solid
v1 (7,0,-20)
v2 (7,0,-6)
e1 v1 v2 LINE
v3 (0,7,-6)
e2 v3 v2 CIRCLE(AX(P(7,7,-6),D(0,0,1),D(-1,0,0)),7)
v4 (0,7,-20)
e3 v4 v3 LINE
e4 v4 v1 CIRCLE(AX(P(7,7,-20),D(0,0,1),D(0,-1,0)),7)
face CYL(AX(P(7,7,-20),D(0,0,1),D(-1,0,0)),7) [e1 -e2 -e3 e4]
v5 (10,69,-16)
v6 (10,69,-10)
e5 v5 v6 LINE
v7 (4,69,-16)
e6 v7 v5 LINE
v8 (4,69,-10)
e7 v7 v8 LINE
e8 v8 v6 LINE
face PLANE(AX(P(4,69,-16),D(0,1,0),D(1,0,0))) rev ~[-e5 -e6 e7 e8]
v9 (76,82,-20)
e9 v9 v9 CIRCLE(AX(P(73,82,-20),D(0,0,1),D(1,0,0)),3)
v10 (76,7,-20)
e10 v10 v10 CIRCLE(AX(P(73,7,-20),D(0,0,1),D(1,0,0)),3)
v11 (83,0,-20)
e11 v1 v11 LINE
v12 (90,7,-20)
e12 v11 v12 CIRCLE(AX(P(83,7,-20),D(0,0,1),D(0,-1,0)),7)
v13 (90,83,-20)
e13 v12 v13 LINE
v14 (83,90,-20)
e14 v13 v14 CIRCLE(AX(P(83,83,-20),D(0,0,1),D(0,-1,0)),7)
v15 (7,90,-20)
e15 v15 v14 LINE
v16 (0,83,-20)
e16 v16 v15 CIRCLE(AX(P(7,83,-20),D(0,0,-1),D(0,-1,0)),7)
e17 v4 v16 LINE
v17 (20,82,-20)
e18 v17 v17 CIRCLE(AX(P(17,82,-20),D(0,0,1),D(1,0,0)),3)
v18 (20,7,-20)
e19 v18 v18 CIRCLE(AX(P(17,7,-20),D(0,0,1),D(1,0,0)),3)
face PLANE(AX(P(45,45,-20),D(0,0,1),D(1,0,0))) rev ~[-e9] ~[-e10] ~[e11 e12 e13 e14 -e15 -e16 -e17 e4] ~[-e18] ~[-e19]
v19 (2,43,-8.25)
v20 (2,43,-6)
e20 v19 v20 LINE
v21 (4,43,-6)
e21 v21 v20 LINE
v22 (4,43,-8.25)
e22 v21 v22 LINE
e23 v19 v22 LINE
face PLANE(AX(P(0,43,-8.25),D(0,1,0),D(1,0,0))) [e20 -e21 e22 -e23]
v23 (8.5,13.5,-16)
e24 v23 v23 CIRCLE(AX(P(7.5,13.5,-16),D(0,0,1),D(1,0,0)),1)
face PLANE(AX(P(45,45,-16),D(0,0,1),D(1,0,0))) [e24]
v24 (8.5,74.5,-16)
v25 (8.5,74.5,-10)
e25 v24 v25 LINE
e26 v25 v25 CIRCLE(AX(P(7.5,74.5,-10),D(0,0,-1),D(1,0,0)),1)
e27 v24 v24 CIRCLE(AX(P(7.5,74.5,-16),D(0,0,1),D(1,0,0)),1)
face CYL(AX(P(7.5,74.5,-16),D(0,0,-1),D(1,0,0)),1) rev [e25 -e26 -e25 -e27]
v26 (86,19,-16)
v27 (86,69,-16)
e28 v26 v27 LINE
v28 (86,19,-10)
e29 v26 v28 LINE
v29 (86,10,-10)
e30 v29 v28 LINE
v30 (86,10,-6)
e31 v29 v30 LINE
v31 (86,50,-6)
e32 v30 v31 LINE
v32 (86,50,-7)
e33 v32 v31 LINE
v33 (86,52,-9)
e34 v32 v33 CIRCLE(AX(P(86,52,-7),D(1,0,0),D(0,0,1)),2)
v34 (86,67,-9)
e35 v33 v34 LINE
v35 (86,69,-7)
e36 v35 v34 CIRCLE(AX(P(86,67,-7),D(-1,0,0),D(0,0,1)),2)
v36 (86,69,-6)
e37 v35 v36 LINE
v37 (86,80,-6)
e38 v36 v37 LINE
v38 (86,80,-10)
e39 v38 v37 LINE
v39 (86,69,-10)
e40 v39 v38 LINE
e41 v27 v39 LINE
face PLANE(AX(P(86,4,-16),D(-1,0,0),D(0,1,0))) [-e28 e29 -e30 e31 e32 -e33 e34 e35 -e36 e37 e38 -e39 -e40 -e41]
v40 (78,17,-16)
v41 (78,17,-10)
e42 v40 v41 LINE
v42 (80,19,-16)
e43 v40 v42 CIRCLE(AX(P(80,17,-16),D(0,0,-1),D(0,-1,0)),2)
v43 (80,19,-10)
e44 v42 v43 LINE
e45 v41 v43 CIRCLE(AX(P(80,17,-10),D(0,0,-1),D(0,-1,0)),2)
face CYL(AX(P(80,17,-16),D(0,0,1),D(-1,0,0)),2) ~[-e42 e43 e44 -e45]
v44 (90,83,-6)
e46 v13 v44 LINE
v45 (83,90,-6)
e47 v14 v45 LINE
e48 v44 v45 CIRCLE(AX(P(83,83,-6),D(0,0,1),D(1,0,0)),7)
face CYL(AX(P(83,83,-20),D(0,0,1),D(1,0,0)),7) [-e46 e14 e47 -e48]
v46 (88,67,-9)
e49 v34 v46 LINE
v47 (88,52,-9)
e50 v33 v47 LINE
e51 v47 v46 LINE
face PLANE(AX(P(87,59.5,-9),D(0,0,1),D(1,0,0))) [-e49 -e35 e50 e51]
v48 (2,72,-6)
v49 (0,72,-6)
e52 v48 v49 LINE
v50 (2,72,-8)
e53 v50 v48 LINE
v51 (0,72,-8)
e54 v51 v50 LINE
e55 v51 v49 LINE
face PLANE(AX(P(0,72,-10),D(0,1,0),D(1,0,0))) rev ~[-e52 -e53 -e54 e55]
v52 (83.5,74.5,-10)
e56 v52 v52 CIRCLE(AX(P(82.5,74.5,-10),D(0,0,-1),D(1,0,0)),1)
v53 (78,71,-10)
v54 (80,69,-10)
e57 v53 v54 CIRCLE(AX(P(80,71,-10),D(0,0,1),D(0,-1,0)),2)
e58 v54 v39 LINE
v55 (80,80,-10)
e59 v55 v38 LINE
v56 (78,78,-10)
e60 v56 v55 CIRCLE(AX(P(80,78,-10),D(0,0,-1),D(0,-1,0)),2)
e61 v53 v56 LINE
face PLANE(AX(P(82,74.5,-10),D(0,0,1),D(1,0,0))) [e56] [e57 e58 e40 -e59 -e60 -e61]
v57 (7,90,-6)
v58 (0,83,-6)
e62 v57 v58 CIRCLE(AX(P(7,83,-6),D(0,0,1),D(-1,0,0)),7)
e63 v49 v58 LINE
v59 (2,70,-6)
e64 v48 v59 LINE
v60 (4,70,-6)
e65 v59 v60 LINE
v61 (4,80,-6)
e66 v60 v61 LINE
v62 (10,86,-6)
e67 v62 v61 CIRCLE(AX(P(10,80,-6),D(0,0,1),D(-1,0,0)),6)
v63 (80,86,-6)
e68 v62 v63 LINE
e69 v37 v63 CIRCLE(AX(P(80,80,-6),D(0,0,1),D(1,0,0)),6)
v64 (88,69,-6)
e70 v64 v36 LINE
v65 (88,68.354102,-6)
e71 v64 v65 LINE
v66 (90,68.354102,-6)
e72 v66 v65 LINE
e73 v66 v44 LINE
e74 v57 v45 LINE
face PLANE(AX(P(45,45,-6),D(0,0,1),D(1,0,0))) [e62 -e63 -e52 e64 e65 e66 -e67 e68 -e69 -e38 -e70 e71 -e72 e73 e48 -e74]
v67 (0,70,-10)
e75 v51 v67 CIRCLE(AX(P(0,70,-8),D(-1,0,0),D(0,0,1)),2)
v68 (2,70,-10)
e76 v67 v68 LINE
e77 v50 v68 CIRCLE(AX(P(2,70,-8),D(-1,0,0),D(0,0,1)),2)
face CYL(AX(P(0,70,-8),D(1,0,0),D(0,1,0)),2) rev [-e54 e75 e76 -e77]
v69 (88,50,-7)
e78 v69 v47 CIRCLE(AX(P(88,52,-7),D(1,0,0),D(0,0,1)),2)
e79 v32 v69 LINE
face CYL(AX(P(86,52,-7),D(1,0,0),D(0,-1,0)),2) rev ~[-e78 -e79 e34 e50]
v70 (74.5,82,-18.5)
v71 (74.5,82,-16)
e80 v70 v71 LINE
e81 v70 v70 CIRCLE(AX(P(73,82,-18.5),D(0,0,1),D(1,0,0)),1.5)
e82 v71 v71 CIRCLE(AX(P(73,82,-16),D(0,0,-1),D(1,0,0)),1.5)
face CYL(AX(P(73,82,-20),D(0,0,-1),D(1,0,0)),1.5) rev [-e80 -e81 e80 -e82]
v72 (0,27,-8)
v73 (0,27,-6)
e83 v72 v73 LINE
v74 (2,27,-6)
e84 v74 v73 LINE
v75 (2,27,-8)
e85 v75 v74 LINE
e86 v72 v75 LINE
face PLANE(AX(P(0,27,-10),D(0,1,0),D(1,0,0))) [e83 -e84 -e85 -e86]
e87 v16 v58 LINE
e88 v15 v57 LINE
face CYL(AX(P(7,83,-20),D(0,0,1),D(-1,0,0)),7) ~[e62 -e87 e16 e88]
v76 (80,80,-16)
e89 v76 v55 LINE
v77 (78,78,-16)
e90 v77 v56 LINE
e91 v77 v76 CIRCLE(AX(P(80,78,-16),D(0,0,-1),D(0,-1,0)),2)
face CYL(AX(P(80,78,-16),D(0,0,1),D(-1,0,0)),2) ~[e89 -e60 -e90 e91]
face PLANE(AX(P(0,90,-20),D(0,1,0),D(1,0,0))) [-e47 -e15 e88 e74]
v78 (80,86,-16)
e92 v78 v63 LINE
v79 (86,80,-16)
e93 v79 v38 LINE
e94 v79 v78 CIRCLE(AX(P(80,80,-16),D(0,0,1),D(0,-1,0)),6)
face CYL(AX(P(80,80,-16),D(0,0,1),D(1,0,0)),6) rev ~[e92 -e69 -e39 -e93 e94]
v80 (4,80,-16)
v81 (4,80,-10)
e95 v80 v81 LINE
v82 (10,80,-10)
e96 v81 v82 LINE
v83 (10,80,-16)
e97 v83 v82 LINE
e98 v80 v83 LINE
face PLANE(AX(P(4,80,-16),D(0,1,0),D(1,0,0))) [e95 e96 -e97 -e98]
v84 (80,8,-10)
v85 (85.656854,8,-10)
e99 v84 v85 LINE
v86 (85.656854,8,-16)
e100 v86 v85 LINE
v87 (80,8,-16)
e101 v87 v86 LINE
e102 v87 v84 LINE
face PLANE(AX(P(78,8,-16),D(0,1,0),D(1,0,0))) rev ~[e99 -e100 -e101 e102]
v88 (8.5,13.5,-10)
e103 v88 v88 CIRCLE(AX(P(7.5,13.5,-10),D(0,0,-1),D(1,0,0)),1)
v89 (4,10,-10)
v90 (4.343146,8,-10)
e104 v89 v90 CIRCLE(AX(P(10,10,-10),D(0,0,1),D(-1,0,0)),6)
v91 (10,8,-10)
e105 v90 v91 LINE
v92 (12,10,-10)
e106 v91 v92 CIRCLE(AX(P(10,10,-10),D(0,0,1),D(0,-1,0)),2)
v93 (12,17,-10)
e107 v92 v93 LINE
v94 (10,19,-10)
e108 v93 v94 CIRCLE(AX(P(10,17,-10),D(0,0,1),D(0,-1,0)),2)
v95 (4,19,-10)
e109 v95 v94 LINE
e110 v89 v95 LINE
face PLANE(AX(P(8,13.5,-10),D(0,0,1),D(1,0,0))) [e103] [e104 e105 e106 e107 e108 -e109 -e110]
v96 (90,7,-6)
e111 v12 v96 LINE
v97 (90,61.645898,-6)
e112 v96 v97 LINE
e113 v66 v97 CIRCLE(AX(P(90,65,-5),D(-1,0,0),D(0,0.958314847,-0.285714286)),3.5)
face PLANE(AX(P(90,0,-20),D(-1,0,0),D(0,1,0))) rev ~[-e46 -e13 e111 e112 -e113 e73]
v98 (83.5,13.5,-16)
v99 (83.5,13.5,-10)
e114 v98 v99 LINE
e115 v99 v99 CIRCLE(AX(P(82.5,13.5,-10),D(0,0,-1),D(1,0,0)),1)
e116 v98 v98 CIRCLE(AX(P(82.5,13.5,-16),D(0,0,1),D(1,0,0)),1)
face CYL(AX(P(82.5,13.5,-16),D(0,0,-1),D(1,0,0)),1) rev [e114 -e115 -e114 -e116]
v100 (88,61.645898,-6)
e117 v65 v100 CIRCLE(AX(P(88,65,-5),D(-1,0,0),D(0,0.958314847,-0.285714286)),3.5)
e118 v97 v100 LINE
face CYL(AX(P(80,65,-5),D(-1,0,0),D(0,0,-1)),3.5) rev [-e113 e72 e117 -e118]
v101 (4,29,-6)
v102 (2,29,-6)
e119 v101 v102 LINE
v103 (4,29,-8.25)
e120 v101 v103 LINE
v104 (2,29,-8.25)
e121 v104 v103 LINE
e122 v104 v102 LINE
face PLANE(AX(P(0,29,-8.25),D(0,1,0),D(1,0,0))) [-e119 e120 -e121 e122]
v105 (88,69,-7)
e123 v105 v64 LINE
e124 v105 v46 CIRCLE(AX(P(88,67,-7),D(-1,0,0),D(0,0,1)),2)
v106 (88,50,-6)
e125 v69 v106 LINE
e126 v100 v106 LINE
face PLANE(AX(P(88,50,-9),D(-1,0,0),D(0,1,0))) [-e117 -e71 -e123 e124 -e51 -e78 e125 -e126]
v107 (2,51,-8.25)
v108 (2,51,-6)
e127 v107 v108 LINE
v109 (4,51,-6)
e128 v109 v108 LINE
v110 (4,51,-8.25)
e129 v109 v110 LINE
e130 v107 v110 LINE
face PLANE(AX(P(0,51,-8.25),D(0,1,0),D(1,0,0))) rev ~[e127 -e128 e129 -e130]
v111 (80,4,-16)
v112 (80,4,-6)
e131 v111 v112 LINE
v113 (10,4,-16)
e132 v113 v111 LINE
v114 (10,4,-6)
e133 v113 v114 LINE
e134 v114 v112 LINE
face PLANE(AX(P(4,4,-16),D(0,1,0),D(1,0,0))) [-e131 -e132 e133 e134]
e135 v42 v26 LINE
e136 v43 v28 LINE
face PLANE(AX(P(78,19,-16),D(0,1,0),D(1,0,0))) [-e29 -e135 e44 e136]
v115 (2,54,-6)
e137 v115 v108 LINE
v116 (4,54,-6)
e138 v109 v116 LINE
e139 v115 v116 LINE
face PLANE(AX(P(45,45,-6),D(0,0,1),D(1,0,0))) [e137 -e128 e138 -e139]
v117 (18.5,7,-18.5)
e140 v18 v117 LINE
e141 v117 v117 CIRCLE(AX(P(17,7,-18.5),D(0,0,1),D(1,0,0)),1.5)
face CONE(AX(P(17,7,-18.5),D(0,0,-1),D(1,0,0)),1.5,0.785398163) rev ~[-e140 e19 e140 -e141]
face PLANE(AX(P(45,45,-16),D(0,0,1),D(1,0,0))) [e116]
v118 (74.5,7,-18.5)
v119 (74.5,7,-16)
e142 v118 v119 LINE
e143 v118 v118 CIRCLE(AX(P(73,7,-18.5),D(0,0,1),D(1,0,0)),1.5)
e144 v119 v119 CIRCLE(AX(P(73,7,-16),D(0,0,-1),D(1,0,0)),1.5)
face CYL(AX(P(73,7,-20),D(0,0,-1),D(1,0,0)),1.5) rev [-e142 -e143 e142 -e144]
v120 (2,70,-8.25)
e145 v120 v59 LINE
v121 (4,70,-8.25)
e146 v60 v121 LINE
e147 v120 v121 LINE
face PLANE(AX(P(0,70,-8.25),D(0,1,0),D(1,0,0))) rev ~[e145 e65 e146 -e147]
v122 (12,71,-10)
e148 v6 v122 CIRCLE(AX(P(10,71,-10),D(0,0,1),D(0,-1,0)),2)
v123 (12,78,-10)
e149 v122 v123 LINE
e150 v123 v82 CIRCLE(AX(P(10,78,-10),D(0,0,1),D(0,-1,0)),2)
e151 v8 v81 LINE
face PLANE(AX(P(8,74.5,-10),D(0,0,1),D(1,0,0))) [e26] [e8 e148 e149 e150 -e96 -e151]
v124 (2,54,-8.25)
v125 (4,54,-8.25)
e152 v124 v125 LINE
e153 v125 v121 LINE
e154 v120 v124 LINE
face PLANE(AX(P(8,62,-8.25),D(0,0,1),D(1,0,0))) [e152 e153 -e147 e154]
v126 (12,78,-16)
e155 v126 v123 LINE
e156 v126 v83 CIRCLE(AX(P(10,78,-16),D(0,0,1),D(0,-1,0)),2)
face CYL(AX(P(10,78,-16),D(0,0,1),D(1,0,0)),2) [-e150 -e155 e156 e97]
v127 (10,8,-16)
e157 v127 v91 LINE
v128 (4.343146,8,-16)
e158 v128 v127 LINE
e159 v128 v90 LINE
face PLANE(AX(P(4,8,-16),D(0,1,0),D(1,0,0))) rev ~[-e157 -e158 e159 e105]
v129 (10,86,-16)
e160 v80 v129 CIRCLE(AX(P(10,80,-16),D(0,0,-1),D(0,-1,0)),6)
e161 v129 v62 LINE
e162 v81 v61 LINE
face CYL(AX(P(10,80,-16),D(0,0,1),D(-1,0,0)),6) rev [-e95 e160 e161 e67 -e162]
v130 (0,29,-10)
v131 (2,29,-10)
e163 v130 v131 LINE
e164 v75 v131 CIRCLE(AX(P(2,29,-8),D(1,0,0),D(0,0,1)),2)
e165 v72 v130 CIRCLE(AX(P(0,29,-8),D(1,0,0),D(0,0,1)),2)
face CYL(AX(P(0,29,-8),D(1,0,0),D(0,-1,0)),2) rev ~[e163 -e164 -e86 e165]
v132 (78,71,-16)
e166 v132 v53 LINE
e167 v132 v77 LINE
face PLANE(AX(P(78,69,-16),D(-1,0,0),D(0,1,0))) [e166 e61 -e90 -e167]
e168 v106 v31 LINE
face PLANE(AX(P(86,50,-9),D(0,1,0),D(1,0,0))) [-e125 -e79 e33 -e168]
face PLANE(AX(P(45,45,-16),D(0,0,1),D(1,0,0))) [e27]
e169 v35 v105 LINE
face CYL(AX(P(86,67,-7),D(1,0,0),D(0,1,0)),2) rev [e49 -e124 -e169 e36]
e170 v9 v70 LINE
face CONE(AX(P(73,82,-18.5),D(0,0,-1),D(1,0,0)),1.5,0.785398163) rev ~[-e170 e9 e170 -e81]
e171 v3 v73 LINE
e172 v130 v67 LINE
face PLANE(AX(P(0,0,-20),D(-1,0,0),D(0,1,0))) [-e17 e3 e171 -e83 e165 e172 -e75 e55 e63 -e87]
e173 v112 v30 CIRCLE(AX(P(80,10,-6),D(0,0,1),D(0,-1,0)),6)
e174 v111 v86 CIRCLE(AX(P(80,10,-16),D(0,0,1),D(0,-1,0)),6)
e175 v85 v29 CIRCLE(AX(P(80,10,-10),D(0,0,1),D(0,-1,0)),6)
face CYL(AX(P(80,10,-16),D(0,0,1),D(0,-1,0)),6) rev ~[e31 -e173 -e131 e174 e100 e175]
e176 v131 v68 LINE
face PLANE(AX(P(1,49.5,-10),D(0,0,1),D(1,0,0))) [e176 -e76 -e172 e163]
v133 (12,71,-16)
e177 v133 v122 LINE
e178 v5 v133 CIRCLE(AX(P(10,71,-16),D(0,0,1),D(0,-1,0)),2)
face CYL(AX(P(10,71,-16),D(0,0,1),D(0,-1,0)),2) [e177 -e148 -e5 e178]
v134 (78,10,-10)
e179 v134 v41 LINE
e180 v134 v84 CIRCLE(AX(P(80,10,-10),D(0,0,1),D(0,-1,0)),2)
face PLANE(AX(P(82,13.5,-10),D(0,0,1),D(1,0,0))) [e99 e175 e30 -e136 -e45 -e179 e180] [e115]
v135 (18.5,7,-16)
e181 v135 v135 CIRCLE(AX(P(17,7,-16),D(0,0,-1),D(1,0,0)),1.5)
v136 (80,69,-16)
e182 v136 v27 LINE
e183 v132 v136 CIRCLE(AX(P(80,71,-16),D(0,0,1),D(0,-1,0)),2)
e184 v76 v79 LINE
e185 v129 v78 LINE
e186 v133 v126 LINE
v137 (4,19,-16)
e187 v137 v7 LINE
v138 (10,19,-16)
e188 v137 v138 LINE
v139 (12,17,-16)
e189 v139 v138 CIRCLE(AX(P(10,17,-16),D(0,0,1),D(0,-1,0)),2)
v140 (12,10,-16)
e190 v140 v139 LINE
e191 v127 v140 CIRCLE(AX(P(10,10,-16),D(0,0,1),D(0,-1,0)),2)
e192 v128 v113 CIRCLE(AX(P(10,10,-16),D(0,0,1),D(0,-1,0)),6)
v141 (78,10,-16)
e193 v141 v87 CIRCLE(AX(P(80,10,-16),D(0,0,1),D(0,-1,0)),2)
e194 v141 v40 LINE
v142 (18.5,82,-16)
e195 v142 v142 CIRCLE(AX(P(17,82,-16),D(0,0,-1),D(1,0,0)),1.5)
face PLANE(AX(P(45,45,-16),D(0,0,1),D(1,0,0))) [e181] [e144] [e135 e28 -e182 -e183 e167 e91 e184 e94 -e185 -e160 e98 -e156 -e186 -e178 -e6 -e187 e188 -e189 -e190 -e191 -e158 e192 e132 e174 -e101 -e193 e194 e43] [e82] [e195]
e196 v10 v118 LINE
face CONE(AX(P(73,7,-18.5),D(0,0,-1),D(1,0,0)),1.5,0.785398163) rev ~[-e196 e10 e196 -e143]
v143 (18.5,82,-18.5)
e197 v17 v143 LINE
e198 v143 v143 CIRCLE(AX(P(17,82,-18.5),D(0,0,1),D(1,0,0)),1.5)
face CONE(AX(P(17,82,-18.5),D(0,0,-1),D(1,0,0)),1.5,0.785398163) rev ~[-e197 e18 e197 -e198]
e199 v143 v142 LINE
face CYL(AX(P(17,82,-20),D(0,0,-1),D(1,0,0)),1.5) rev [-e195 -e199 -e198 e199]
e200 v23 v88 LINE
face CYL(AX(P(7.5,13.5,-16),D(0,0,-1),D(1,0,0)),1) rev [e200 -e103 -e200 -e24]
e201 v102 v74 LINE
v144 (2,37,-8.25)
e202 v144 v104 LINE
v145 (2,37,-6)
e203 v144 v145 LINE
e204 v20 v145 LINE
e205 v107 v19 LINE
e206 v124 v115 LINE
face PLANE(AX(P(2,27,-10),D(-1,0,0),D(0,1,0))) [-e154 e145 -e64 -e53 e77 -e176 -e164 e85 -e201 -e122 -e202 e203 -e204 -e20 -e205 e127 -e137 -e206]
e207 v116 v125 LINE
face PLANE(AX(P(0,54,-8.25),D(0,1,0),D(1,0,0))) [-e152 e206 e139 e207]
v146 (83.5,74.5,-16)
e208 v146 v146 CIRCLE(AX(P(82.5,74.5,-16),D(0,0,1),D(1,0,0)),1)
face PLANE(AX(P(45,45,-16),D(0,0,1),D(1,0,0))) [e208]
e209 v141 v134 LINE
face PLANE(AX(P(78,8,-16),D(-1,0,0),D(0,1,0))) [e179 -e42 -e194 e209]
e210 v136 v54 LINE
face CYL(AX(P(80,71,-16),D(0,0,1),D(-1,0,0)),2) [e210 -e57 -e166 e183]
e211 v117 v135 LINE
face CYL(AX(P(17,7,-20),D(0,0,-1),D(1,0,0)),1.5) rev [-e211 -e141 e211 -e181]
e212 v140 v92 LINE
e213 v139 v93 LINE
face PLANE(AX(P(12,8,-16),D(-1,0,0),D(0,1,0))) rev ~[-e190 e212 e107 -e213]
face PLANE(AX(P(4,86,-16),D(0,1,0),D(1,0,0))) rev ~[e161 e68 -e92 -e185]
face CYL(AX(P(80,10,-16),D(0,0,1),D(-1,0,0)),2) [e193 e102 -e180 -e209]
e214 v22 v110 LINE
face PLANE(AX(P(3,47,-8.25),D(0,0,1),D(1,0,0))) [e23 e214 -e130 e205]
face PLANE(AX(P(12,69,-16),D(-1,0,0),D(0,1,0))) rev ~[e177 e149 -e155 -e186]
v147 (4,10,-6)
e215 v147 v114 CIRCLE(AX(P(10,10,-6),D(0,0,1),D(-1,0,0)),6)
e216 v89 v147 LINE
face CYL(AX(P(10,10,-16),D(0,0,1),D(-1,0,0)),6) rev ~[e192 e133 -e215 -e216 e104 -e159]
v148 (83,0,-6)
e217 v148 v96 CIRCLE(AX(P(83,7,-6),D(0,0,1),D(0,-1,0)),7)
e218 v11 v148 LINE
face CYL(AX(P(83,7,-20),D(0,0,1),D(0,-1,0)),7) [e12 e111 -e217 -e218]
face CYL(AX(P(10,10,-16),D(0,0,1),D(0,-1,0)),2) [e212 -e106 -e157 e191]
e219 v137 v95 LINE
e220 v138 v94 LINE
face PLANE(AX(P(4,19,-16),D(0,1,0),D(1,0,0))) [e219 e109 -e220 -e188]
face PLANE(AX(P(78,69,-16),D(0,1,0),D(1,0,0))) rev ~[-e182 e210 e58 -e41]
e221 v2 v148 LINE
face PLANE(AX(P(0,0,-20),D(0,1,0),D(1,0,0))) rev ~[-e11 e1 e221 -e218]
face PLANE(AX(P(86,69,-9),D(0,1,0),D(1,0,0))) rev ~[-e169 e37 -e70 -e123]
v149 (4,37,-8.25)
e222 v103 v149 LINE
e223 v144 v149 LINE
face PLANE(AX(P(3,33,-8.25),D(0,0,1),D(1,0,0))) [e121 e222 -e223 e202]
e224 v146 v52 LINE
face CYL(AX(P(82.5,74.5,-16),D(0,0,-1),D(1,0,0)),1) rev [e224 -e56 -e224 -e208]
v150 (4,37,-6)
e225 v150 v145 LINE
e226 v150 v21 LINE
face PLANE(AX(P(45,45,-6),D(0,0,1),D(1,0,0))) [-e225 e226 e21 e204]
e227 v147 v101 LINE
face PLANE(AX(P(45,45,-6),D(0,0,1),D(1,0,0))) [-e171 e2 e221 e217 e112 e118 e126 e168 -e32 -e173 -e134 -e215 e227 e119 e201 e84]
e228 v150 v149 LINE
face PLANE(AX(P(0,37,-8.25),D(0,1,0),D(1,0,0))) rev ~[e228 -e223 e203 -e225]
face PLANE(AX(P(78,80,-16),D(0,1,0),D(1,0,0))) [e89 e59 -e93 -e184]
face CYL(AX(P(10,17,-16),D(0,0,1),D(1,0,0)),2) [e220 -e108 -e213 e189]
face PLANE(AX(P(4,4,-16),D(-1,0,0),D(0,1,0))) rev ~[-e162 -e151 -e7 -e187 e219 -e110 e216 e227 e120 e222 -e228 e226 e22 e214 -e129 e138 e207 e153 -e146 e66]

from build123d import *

# Parameters (mm, degrees)
CYLINDER005_R     = 1
CYLINDER005_DEPTH = 8
BOX014_W          = 8
BOX014_H          = 11
BOX014_DEPTH      = 6
FILLET006_R       = 2
CYLINDER006_R     = 1
CYLINDER006_DEPTH = 9
BOX013_W          = 8
BOX013_H          = 11
BOX013_DEPTH      = 6
FILLET005_R       = 2
CYLINDER004_R     = 1
CYLINDER004_DEPTH = 8
BOX011_W          = 8
BOX011_H          = 11
BOX011_DEPTH      = 6
FILLET004_R       = 2
CYLINDER003_R     = 1
CYLINDER003_DEPTH = 8
BOX009_W          = 8
BOX009_H          = 11
BOX009_DEPTH      = 6
FILLET003_R       = 2
BOX024_W          = 2
BOX024_H          = 45
BOX024_DEPTH      = 8
FILLET007_R       = 2
BOX023_W          = 6
BOX023_H          = 8
BOX023_DEPTH      = 3
CYLINDER008_R     = 1.5
CYLINDER008_DEPTH = 10
CYLINDER009_R     = 1.5
CYLINDER009_DEPTH = 10
CYLINDER010_R     = 1.5
CYLINDER010_DEPTH = 10
CYLINDER007_R     = 1.5
CYLINDER007_DEPTH = 10
BOX018_W          = 6
BOX018_H          = 8
BOX018_DEPTH      = 3
BOX015_W          = 16
BOX015_H          = 16
BOX015_DEPTH      = 2.25
CYLINDER002_R     = 3.5
CYLINDER002_DEPTH = 10.5
BOX010_W          = 2
BOX010_H          = 19
BOX010_DEPTH      = 8
FILLET002_R       = 2
BOX008_W          = 90
BOX008_H          = 90
BOX008_DEPTH      = 14
BOX006_W          = 82
BOX006_H          = 82
BOX006_DEPTH      = 82
FILLET001_R       = 6
BOX005_W          = 90
BOX005_H          = 90
BOX005_DEPTH      = 90
FILLET_R          = 7
CHAMFER_SIZE      = 1.5


with BuildPart() as cylinder002:
    # Cylinder005 → Cylinder005 (new body)
    with BuildSketch(Plane(origin=(82.5, 74.5, 4), x_dir=(1, 0, 0), z_dir=(0, 0, 1))):
        Circle(CYLINDER005_R)
    extrude(amount=CYLINDER005_DEPTH)


with BuildPart() as cut003:
    # Box014 → Box014 (new body)
    with BuildSketch(Plane(origin=(78, 8, 4), x_dir=(1, 0, 0), z_dir=(0, 0, 1))):
        with Locations((4, 5.5)):
            Rectangle(BOX014_W, BOX014_H)
    extrude(amount=BOX014_DEPTH)

    # Fillet006
    fillet006_edges = [cut003.edges().sort_by_distance(p)[0] for p in [
        (78, 8, 7),
        (78, 19, 7),
    ]]
    fillet(fillet006_edges, radius=FILLET006_R)


with BuildPart() as cut003_1:
    # Fillet006 placement: moved
    add(cut003.part.moved(Location((0, 61, 0))))

    # Cut003: cut Cylinder002
    add(cylinder002.part, mode=Mode.SUBTRACT)


with BuildPart() as cylinder003:
    # Cylinder006 → Cylinder006 (new body)
    with BuildSketch(Plane(origin=(82.5, 13.5, 4), x_dir=(1, 0, 0), z_dir=(0, 0, 1))):
        Circle(CYLINDER006_R)
    extrude(amount=CYLINDER006_DEPTH)


with BuildPart() as cut004:
    # Box013 → Box013 (new body)
    with BuildSketch(Plane(origin=(78, 8, 4), x_dir=(1, 0, 0), z_dir=(0, 0, 1))):
        with Locations((4, 5.5)):
            Rectangle(BOX013_W, BOX013_H)
    extrude(amount=BOX013_DEPTH)

    # Fillet005
    fillet005_edges = [cut004.edges().sort_by_distance(p)[0] for p in [
        (78, 8, 7),
        (78, 19, 7),
    ]]
    fillet(fillet005_edges, radius=FILLET005_R)

    # Cut004: cut Cylinder003
    add(cylinder003.part, mode=Mode.SUBTRACT)


with BuildPart() as cylinder001:
    # Cylinder004 → Cylinder004 (new body)
    with BuildSketch(Plane(origin=(7.5, 74.5, 4), x_dir=(1, 0, 0), z_dir=(0, 0, 1))):
        Circle(CYLINDER004_R)
    extrude(amount=CYLINDER004_DEPTH)


with BuildPart() as cut005:
    # Box011 → Box011 (new body)
    with BuildSketch(Plane(origin=(4, 8, 3), x_dir=(1, 0, 0), z_dir=(0, 0, 1))):
        with Locations((4, 5.5)):
            Rectangle(BOX011_W, BOX011_H)
    extrude(amount=BOX011_DEPTH)

    # Fillet004
    fillet004_edges = [cut005.edges().sort_by_distance(p)[0] for p in [
        (12, 8, 6),
        (12, 19, 6),
    ]]
    fillet(fillet004_edges, radius=FILLET004_R)


with BuildPart() as cut005_1:
    # Fillet004 placement: moved
    add(cut005.part.moved(Location((0, 61, 1))))

    # Cut005: cut Cylinder001
    add(cylinder001.part, mode=Mode.SUBTRACT)


with BuildPart() as cylinder:
    # Cylinder003 → Cylinder003 (new body)
    with BuildSketch(Plane(origin=(7.5, 13.5, 4), x_dir=(1, 0, 0), z_dir=(0, 0, 1))):
        Circle(CYLINDER003_R)
    extrude(amount=CYLINDER003_DEPTH)


with BuildPart() as cut006:
    # Box009 → Box009 (new body)
    with BuildSketch(Plane(origin=(4, 8, 3), x_dir=(1, 0, 0), z_dir=(0, 0, 1))):
        with Locations((4, 5.5)):
            Rectangle(BOX009_W, BOX009_H)
    extrude(amount=BOX009_DEPTH)

    # Fillet003
    fillet003_edges = [cut006.edges().sort_by_distance(p)[0] for p in [
        (12, 8, 6),
        (12, 19, 6),
    ]]
    fillet(fillet003_edges, radius=FILLET003_R)


with BuildPart() as cut006_1:
    # Fillet003 placement: moved
    add(cut006.part.moved(Location((0, 0, 1))))

    # Cut006: cut Cylinder
    add(cylinder.part, mode=Mode.SUBTRACT)


with BuildPart() as fillet007:
    # Box024 → Box024 (new body)
    with BuildSketch(Plane(origin=(0, 27, 10), x_dir=(1, 0, 0), z_dir=(0, 0, 1))):
        with Locations((1, 22.5)):
            Rectangle(BOX024_W, BOX024_H)
    extrude(amount=BOX024_DEPTH)

    # Fillet007
    fillet007_edges = [fillet007.edges().sort_by_distance(p)[0] for p in [
        (1, 27, 10),
        (1, 27, 18),
        (1, 72, 10),
        (1, 72, 18),
    ]]
    fillet(fillet007_edges, radius=FILLET007_R)


with BuildPart() as uart001:
    # Box023 → Box023 (new body)
    with BuildSketch(Plane(origin=(0, 43, 11.75), x_dir=(1, 0, 0), z_dir=(0, 0, 1))):
        with Locations((3, 4)):
            Rectangle(BOX023_W, BOX023_H)
    extrude(amount=BOX023_DEPTH)


with BuildPart() as cylinder005:
    # Cylinder008 → Cylinder008 (new body)
    with BuildSketch(Plane(origin=(17, 7, 0), x_dir=(1, 0, 0), z_dir=(0, 0, 1))):
        Circle(CYLINDER008_R)
    extrude(amount=CYLINDER008_DEPTH)


with BuildPart() as cylinder006:
    # Cylinder009 → Cylinder009 (new body)
    with BuildSketch(Plane(origin=(17, 82, 0), x_dir=(1, 0, 0), z_dir=(0, 0, 1))):
        Circle(CYLINDER009_R)
    extrude(amount=CYLINDER009_DEPTH)


with BuildPart() as cylinder007:
    # Cylinder010 → Cylinder010 (new body)
    with BuildSketch(Plane(origin=(73, 82, 0), x_dir=(1, 0, 0), z_dir=(0, 0, 1))):
        Circle(CYLINDER010_R)
    extrude(amount=CYLINDER010_DEPTH)


with BuildPart() as cylinder004:
    # Cylinder007 → Cylinder007 (new body)
    with BuildSketch(Plane(origin=(73, 7, 0), x_dir=(1, 0, 0), z_dir=(0, 0, 1))):
        Circle(CYLINDER007_R)
    extrude(amount=CYLINDER007_DEPTH)


with BuildPart() as power001:
    # Box018 → Box018 (new body)
    with BuildSketch(Plane(origin=(0, 29, 11.75), x_dir=(1, 0, 0), z_dir=(0, 0, 1))):
        with Locations((3, 4)):
            Rectangle(BOX018_W, BOX018_H)
    extrude(amount=BOX018_DEPTH)


with BuildPart() as sd001:
    # Box015 → Box015 (new body)
    with BuildSketch(Plane(origin=(0, 54, 11.75), x_dir=(1, 0, 0), z_dir=(0, 0, 1))):
        with Locations((8, 8)):
            Rectangle(BOX015_W, BOX015_H)
    extrude(amount=BOX015_DEPTH)


with BuildPart() as headphone001:
    # Cylinder002 → Cylinder002 (new body)
    with BuildSketch(Plane(origin=(80, 65, 15), x_dir=(0, 0, -1), z_dir=(1, 0, 0))):
        Circle(CYLINDER002_R)
    extrude(amount=CYLINDER002_DEPTH)


with BuildPart() as fillet002:
    # Box010 → Box010 (new body)
    with BuildSketch(Plane(origin=(86, 50, 11), x_dir=(1, 0, 0), z_dir=(0, 0, 1))):
        with Locations((1, 9.5)):
            Rectangle(BOX010_W, BOX010_H)
    extrude(amount=BOX010_DEPTH)

    # Fillet002
    fillet002_edges = [fillet002.edges().sort_by_distance(p)[0] for p in [
        (87, 50, 11),
        (87, 50, 19),
        (87, 69, 11),
        (87, 69, 19),
    ]]
    fillet(fillet002_edges, radius=FILLET002_R)


with BuildPart() as cube003:
    # Box008 → Box008 (new body)
    with BuildSketch(Plane.XY):
        with Locations((45, 45)):
            Rectangle(BOX008_W, BOX008_H)
    extrude(amount=BOX008_DEPTH)


with BuildPart() as fillet001:
    # Box006 → Box006 (new body)
    with BuildSketch(Plane.XY):
        with Locations((41, 41)):
            Rectangle(BOX006_W, BOX006_H)
    extrude(amount=BOX006_DEPTH)

    # Fillet001
    fillet001_edges = [fillet001.edges().sort_by_distance(p)[0] for p in [
        (0, 0, 41),
        (0, 41, 82),
        (0, 82, 41),
        (82, 0, 41),
        (82, 41, 82),
        (82, 82, 41),
        (41, 0, 82),
        (41, 82, 82),
    ]]
    fillet(fillet001_edges, radius=FILLET001_R)


with BuildPart() as fillet001_1:
    # Fillet001 placement: moved
    add(fillet001.part.moved(Location((4, 4, 4))))


with BuildPart() as bottom001:
    # Box005 → Box005 (new body)
    with BuildSketch(Plane.XY):
        with Locations((45, 45)):
            Rectangle(BOX005_W, BOX005_H)
    extrude(amount=BOX005_DEPTH)

    # Fillet
    fillet_edges = [bottom001.edges().sort_by_distance(p)[0] for p in [
        (0, 0, 45),
        (0, 45, 90),
        (0, 90, 45),
        (90, 0, 45),
        (90, 45, 90),
        (90, 90, 45),
        (45, 0, 90),
        (45, 90, 90),
    ]]
    fillet(fillet_edges, radius=FILLET_R)

    # Cut: cut Fillet001
    add(fillet001_1.part, mode=Mode.SUBTRACT)

    # Common: intersect Cube003
    add(cube003.part, mode=Mode.INTERSECT)

    # Cut001: cut Fillet002
    add(fillet002.part, mode=Mode.SUBTRACT)

    # Cut002: cut Headphone001
    add(headphone001.part, mode=Mode.SUBTRACT)

    # Cut007: cut sd001
    add(sd001.part, mode=Mode.SUBTRACT)

    # Cut008: cut power001
    add(power001.part, mode=Mode.SUBTRACT)

    # Cut009: cut Cylinder004
    add(cylinder004.part, mode=Mode.SUBTRACT)

    # Cut010: cut Cylinder007
    add(cylinder007.part, mode=Mode.SUBTRACT)

    # Cut011: cut Cylinder006
    add(cylinder006.part, mode=Mode.SUBTRACT)

    # Cut012: cut Cylinder005
    add(cylinder005.part, mode=Mode.SUBTRACT)

    # Cut013: cut uart001
    add(uart001.part, mode=Mode.SUBTRACT)

    # Cut014: cut Fillet007
    add(fillet007.part, mode=Mode.SUBTRACT)

    # Chamfer
    chamfer_edges = [bottom001.edges().sort_by_distance(p)[0] for p in [
        (15.5, 82, 0),
        (15.5, 7, 0),
        (71.5, 7, 0),
        (71.5, 82, 0),
    ]]
    chamfer(chamfer_edges, length=CHAMFER_SIZE)

    # Fusion: union Cut003, Cut004, Cut005, Cut006
    add(cut003_1.part)
    add(cut004.part)
    add(cut005_1.part)
    add(cut006_1.part)


with BuildPart() as bottom001_1:
    # Fusion placement: moved
    add(bottom001.part.moved(Location((0, 0, -20))))


solid = bottom001_1.part
